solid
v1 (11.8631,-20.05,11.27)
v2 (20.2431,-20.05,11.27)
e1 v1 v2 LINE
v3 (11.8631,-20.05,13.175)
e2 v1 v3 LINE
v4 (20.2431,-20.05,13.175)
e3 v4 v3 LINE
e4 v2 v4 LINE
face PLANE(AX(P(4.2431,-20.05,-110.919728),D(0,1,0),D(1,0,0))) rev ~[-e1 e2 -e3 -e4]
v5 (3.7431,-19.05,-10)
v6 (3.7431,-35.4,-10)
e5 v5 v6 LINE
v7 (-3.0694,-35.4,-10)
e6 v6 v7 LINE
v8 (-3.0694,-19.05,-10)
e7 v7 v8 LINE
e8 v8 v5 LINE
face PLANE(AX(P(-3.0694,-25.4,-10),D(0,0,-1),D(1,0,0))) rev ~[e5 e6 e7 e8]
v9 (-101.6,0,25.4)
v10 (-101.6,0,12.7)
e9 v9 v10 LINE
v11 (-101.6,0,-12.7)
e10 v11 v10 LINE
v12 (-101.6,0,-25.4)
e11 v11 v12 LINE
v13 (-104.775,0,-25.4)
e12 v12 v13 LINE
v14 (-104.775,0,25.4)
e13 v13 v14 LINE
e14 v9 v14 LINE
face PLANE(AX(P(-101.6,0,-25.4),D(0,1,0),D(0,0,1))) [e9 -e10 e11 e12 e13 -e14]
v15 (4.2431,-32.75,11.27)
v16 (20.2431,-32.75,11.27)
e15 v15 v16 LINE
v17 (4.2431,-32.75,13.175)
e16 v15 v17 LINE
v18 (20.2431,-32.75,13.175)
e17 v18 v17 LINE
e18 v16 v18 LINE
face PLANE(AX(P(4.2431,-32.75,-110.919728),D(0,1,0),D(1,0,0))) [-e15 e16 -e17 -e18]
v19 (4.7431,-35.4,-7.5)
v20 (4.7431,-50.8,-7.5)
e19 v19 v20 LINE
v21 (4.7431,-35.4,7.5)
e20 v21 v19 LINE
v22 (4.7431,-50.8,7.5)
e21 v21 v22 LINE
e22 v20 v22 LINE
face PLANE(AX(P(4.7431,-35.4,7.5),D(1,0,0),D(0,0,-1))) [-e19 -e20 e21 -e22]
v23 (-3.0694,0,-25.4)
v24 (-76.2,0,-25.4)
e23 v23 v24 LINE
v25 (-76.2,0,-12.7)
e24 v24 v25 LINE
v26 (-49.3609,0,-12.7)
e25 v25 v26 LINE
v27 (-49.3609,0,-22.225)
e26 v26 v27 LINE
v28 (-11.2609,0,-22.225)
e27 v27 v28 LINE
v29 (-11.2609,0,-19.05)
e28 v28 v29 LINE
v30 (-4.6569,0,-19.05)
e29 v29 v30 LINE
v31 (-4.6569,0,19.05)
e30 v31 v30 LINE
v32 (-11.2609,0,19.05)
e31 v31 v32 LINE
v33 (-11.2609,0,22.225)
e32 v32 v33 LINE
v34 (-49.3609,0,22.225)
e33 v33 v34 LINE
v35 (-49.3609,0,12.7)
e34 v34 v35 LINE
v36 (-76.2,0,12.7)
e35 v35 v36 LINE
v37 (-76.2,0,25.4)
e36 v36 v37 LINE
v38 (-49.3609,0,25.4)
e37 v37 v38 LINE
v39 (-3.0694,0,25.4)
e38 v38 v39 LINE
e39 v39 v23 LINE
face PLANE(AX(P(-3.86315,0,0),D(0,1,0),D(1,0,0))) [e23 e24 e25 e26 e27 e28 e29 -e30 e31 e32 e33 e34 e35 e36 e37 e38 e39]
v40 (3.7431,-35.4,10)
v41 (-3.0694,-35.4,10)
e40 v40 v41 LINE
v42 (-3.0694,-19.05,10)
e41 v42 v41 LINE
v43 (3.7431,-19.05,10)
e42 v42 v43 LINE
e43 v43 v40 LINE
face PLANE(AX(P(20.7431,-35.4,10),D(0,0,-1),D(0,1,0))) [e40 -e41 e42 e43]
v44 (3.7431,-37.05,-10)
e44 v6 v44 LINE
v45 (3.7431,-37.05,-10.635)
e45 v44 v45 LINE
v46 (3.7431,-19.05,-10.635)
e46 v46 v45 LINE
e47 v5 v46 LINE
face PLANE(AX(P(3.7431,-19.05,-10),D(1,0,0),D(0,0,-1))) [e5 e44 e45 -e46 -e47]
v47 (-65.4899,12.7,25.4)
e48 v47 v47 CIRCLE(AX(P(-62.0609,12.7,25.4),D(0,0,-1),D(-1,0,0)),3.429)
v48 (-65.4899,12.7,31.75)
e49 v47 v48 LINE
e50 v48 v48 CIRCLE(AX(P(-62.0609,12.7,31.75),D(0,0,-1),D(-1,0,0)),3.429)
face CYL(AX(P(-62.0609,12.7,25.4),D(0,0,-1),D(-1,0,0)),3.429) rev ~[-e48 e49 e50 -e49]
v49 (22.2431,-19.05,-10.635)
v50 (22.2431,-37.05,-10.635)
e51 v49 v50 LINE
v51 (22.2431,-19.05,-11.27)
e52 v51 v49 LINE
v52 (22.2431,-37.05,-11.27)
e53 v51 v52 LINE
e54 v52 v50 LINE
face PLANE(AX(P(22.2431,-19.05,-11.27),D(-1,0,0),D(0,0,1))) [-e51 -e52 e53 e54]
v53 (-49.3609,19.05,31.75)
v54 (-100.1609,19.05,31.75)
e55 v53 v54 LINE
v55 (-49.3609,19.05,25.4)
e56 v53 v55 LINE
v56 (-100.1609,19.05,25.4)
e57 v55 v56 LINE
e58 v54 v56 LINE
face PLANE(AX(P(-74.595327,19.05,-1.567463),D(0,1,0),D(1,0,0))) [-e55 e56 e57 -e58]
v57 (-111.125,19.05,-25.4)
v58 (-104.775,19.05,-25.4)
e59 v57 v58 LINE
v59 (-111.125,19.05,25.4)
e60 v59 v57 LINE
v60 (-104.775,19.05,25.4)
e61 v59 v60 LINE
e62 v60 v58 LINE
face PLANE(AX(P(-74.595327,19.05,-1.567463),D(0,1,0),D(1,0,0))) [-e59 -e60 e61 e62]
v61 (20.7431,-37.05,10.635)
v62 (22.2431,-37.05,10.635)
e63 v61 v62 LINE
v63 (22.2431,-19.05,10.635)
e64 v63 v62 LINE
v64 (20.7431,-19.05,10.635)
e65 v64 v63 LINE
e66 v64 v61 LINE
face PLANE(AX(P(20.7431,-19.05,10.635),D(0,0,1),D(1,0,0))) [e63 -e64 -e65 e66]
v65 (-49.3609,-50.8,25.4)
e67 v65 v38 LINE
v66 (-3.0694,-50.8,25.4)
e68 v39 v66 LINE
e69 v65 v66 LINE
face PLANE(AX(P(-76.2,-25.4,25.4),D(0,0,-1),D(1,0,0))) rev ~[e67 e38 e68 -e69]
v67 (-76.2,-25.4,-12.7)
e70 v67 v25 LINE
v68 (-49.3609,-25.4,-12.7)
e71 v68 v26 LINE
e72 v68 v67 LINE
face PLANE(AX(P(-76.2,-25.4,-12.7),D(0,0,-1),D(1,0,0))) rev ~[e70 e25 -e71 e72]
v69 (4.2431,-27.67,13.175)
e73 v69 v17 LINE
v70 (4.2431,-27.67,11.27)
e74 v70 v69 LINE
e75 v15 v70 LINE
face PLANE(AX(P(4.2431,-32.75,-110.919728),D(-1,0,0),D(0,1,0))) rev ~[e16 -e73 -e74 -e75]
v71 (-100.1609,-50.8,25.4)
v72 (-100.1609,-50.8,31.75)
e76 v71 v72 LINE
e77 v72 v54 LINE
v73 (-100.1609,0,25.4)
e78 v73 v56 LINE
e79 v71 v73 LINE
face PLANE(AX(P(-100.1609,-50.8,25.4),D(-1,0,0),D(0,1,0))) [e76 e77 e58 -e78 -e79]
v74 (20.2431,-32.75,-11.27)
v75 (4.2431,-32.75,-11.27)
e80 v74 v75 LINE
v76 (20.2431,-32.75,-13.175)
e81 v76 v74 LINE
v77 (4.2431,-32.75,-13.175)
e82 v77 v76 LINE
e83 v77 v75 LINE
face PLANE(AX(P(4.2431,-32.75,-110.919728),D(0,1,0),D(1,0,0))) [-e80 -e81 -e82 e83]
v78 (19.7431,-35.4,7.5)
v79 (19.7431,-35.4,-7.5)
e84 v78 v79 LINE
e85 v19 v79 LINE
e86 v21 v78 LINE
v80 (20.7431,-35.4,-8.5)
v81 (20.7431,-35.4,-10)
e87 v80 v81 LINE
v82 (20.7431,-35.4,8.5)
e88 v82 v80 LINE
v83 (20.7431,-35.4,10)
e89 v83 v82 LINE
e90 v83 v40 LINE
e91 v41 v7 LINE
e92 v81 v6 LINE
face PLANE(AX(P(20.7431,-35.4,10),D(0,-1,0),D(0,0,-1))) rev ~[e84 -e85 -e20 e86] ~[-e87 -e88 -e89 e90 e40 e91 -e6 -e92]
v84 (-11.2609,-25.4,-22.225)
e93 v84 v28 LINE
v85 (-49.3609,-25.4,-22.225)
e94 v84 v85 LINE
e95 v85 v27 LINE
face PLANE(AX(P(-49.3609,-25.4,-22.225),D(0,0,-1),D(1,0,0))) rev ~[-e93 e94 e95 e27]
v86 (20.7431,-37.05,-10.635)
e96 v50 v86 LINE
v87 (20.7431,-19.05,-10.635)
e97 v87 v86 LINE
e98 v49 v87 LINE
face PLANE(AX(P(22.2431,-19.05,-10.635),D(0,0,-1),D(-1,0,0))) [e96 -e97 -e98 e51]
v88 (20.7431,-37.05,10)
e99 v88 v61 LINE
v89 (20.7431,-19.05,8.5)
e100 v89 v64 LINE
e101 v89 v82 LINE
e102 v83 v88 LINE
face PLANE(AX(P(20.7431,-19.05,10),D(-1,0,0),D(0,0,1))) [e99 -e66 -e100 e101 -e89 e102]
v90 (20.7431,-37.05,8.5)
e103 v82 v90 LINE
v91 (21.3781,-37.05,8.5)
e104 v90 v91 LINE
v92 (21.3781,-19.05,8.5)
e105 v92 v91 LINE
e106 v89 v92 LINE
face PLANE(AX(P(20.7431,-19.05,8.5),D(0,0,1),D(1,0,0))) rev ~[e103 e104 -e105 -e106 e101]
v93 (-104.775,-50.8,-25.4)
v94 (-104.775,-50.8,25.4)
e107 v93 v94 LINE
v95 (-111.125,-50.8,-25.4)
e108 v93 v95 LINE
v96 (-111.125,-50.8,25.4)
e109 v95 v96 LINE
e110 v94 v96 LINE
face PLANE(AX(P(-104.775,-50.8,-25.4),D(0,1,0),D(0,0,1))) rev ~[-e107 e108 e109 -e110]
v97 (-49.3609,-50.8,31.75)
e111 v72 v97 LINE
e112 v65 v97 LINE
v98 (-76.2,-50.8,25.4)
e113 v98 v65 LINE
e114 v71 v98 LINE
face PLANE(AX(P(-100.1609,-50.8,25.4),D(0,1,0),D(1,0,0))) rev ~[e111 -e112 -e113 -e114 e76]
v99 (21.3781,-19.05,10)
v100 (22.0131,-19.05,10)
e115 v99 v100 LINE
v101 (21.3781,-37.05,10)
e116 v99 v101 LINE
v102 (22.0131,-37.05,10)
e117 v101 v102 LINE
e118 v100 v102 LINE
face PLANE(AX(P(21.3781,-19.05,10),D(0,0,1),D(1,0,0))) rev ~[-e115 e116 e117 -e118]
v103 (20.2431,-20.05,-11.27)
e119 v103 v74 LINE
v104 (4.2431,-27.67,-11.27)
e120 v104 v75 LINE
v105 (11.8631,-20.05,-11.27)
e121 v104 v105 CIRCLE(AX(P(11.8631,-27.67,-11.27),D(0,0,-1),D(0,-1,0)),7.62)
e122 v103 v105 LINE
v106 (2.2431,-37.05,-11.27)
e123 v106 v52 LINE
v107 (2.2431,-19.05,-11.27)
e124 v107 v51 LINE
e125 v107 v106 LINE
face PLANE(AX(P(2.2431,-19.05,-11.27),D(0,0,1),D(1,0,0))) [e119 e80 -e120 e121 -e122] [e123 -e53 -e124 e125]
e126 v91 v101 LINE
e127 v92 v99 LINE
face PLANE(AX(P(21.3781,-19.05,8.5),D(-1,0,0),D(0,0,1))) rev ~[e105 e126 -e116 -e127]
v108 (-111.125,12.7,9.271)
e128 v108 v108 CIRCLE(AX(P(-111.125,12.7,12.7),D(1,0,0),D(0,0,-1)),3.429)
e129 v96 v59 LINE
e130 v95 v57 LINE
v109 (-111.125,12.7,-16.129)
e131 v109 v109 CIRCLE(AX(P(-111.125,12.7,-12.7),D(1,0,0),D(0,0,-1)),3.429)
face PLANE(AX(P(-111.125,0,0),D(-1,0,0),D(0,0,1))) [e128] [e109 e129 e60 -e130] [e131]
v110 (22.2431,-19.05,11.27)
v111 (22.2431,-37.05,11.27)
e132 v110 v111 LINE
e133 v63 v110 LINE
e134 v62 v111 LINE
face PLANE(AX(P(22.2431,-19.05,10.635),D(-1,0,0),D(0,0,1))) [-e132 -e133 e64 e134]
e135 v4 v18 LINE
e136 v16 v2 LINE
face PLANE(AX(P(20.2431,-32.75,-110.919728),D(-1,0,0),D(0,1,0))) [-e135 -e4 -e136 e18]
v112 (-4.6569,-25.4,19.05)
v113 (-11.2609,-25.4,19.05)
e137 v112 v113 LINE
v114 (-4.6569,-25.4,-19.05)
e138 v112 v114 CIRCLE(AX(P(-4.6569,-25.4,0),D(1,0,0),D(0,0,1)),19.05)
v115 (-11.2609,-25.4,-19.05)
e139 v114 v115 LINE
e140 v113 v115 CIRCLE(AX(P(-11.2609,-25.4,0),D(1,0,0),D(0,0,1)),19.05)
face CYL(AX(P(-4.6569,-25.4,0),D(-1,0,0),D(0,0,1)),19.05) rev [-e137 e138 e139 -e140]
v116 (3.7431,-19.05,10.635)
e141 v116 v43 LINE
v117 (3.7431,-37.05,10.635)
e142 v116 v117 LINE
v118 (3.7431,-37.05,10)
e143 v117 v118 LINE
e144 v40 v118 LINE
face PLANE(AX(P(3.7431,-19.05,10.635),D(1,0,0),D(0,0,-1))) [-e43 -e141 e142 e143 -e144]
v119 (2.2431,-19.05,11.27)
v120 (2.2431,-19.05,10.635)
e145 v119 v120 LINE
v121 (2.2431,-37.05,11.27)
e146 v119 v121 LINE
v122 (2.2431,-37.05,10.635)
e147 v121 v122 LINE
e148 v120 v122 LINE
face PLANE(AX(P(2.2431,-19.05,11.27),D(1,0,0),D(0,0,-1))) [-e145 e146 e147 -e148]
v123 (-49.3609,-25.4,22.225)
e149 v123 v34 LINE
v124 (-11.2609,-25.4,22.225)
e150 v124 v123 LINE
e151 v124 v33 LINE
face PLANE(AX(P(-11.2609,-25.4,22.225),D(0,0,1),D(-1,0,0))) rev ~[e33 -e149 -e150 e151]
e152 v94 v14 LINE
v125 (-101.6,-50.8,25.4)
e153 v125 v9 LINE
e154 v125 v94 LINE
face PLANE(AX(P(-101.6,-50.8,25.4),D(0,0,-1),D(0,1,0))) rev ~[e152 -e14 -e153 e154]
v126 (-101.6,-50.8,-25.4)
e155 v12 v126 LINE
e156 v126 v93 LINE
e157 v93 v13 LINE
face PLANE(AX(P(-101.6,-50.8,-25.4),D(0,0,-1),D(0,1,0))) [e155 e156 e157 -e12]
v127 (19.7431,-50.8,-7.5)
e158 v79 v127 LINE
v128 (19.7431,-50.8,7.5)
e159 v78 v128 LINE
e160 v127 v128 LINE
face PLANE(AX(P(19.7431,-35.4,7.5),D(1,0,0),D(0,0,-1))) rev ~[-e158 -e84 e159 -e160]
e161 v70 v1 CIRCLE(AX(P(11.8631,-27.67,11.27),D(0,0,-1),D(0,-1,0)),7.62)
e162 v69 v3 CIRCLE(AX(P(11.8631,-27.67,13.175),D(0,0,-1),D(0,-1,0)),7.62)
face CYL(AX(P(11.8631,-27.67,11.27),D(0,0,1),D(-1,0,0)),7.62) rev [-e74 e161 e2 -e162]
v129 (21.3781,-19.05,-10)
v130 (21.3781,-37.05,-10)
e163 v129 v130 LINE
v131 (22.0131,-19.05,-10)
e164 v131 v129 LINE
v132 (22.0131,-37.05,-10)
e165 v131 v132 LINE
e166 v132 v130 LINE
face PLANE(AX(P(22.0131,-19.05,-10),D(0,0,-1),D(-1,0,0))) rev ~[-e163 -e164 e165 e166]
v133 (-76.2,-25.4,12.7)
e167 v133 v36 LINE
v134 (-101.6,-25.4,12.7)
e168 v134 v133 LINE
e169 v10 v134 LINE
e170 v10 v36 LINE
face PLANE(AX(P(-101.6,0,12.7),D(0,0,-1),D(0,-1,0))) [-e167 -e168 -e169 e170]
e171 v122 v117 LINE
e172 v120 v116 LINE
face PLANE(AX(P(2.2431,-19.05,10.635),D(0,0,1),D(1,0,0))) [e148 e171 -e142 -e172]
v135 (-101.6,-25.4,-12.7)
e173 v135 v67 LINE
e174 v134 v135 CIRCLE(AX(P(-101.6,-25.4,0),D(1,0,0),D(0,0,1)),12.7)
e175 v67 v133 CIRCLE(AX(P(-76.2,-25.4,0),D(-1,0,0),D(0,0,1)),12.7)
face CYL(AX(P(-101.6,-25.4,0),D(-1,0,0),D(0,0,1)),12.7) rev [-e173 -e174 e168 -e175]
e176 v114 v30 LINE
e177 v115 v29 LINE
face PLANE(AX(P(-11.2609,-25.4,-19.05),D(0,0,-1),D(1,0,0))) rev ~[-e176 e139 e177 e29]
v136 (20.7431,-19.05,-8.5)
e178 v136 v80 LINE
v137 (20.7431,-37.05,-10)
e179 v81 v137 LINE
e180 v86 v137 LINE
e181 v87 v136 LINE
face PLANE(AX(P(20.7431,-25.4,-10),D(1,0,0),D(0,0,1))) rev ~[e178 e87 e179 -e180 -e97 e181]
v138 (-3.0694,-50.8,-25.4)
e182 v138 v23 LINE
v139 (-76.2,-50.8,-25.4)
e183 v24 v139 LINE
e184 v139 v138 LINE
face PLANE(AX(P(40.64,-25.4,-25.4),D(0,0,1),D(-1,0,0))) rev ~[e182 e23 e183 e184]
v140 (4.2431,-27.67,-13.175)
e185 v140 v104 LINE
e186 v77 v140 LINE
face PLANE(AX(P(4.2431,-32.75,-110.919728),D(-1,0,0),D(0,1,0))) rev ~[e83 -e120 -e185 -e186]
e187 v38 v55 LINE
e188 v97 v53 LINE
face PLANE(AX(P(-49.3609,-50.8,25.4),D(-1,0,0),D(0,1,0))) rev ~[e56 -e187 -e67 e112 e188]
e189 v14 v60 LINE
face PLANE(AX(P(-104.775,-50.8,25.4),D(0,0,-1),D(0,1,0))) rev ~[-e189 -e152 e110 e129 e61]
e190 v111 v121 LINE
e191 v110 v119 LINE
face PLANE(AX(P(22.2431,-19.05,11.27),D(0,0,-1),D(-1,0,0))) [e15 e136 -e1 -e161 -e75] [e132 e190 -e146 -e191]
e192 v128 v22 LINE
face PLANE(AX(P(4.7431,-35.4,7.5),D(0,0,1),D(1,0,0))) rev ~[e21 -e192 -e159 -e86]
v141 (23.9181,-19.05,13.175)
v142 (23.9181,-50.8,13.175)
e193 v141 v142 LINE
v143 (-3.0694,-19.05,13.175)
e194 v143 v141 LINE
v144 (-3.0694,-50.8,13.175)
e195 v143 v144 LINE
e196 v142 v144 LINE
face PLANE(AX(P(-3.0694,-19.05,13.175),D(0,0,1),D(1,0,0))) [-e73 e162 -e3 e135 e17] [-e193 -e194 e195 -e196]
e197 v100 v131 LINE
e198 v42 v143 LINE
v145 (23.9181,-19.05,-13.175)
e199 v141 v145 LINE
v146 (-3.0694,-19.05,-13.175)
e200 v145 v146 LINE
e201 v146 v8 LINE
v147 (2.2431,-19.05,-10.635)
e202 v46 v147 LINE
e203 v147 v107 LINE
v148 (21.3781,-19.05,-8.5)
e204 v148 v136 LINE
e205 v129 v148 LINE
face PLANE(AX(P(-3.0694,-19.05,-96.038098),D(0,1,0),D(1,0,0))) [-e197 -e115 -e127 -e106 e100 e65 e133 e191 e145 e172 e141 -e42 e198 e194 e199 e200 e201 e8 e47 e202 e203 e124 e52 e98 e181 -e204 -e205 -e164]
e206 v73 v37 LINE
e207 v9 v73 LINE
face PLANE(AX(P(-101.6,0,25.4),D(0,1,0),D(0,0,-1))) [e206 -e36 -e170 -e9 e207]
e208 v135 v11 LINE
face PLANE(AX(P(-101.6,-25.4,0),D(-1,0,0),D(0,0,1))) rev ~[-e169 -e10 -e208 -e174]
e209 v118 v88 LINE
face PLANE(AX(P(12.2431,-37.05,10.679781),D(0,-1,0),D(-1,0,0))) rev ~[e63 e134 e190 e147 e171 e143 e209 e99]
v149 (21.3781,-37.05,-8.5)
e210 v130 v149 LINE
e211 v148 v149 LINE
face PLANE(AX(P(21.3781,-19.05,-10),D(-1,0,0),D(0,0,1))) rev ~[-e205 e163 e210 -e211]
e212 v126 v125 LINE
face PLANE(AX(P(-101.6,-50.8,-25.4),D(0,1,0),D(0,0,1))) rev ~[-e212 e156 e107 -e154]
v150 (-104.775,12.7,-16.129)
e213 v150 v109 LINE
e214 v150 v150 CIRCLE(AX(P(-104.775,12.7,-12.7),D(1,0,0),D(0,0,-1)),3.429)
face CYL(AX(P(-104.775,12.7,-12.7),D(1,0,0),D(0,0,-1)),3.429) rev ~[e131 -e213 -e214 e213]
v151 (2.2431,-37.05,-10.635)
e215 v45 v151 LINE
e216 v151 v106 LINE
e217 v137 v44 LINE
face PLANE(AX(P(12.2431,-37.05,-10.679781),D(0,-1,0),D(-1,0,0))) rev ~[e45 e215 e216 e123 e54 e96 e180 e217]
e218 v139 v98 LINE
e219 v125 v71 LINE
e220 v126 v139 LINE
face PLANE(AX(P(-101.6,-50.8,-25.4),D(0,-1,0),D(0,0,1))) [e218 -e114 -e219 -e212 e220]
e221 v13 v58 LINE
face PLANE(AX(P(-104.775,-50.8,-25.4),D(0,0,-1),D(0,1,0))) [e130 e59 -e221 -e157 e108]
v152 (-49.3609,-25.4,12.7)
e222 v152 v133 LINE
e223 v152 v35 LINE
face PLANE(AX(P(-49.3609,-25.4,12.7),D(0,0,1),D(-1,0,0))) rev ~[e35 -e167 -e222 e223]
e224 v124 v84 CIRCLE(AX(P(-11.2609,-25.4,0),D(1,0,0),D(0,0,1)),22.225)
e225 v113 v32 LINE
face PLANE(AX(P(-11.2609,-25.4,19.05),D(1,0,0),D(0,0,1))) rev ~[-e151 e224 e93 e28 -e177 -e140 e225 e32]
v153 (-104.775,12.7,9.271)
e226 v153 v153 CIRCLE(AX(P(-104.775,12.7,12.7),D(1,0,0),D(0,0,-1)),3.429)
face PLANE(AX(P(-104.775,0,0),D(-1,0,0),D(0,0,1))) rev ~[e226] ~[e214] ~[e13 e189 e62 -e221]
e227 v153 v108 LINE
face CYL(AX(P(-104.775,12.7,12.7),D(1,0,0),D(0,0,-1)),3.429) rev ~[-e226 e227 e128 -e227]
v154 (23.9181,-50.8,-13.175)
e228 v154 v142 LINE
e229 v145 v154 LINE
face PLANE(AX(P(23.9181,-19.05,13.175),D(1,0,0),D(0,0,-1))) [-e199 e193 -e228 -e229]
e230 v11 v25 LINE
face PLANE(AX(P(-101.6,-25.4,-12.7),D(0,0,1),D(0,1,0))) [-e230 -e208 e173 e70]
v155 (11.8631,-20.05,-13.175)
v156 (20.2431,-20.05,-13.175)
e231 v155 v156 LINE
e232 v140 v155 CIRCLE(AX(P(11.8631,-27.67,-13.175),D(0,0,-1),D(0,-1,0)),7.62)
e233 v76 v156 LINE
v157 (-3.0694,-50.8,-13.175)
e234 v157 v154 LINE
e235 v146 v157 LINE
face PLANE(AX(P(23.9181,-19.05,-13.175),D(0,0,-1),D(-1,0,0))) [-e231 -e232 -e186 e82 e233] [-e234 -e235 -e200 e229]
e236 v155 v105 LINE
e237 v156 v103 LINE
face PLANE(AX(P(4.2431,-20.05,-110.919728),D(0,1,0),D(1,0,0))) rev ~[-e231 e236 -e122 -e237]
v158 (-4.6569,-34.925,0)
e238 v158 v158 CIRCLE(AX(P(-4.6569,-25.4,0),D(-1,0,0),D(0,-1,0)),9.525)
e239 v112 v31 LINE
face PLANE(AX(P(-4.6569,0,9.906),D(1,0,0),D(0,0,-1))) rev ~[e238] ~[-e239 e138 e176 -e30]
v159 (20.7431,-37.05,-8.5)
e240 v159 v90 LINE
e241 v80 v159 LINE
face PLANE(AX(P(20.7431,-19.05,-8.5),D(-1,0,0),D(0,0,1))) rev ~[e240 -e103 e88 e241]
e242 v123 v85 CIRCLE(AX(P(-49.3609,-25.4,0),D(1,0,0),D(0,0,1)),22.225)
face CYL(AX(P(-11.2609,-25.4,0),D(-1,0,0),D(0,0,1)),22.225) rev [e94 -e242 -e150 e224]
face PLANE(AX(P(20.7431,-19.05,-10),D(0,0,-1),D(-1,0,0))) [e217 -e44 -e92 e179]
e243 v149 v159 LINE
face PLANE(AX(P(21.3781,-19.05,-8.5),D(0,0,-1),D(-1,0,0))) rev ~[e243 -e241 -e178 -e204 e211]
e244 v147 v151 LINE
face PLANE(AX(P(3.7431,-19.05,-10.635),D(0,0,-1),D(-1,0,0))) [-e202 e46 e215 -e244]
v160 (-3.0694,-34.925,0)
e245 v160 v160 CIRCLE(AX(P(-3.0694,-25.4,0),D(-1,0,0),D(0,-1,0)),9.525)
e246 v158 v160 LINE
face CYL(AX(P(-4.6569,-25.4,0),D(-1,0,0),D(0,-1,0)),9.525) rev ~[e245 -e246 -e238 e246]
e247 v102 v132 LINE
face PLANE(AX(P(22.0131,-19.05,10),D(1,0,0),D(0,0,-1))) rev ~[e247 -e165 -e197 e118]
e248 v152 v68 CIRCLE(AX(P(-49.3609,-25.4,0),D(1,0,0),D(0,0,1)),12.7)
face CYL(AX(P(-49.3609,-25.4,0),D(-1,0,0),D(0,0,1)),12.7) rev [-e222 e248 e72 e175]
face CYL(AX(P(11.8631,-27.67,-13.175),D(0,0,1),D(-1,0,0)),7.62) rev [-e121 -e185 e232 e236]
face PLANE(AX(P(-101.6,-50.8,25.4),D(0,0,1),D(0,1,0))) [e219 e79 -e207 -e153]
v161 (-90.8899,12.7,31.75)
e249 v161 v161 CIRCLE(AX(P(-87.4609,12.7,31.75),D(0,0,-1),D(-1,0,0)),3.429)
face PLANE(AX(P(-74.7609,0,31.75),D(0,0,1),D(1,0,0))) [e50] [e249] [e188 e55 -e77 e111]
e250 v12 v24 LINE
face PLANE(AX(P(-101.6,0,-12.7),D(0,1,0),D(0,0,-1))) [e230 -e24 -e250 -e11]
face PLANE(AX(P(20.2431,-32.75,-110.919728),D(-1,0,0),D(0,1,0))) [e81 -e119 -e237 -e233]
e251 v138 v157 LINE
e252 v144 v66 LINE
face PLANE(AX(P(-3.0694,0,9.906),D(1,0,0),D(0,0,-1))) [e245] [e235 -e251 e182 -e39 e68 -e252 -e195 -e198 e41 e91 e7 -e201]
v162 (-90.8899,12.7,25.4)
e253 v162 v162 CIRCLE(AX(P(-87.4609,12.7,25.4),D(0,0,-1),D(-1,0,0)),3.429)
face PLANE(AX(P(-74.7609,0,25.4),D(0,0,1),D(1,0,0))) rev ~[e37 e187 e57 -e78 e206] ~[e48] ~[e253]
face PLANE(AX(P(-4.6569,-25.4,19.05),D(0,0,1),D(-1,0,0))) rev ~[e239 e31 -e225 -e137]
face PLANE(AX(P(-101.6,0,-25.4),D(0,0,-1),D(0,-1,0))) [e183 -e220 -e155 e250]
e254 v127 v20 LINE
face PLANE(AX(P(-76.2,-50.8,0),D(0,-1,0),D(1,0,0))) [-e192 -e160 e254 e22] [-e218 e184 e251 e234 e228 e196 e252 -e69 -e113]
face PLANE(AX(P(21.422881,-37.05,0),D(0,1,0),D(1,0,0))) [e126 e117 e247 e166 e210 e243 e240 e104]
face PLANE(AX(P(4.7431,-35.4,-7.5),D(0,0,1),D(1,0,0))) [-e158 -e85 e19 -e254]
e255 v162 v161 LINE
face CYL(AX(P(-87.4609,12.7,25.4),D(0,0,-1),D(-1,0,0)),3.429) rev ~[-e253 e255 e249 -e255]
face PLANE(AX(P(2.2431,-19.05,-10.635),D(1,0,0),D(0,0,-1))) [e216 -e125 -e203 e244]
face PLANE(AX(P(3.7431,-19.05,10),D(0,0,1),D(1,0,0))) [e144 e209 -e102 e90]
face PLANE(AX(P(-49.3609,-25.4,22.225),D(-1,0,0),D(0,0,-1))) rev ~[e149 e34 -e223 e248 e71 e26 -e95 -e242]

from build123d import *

# Parameters (mm, degrees)
SKETCH1_W                = 116.84
SKETCH1_H                = 50.8
BOSS_EXTRUDE1_DEPTH      = 25.4
SKETCH38_W               = 20
SKETCH38_H               = 20
CUT_EXTRUDE33_DEPTH      = 23.8125
SKETCH37_W               = 50.8
SKETCH37_H               = 25.4
CUT_EXTRUDE32_DEPTH      = 130.912992422
BOSS_EXTRUDE5_DEPTH      = 25.4
CUT_EXTRUDE54_DEPTH      = 96.038097624
CUT_EXTRUDE54_DEPTH_BACK = 96.038097624
SKETCH45_W               = 43.7094
SKETCH45_H               = 19.05
SKETCH53_R               = 2
CUT_EXTRUDE46_DEPTH      = 0.0254
CUT_EXTRUDE55_DEPTH      = 87.36933773
SKETCH61_R               = 9.906
SKETCH61_R_2             = 9.525
BOSS_EXTRUDE11_DEPTH     = 1.5875
BOSS_EXTRUDE17_REACH     = 97.038
SKETCH70_W               = 1.5875
SKETCH70_H               = 19.812
CUT_EXTRUDE56_DEPTH      = 18
SKETCH76_W               = 15
SKETCH76_H               = 15
CUT_EXTRUDE58_DEPTH      = 88.776762301
CUT_EXTRUDE59_DEPTH      = 99.649728332
CUT_EXTRUDE59_DEPTH_BACK = 99.649728332
SKETCH77_W               = 16
SKETCH77_H               = 12.7
BOSS_EXTRUDE18_START     = 25.4
BOSS_EXTRUDE18_DEPTH     = 25.4
SKETCH79_W               = 50.8
SKETCH79_H               = 50.8
BOSS_EXTRUDE19_DEPTH     = 3.175
SKETCH80_W               = 50.8
SKETCH80_H               = 101.6
BOSS_EXTRUDE20_DEPTH     = 6.35
SKETCH81_R               = 3.429
CUT_EXTRUDE60_DEPTH      = 141.668809576
SKETCH82_W               = 50.8
SKETCH82_H               = 101.6
BOSS_EXTRUDE21_DEPTH     = 6.35
SKETCH83_R               = 3.429
CUT_EXTRUDE61_DEPTH      = 133.325529
SKETCH84_W               = 110.249820412
SKETCH84_H               = 109.628139174
CUT_EXTRUDE62_DEPTH      = 31.75
FILLET1_R                = 7.62


with BuildPart() as part:
    # Sketch1 → Boss-Extrude1 (new, symmetric)
    with BuildSketch(Plane.XY):
        with Locations((-17.78, -25.4)):
            Rectangle(SKETCH1_W, SKETCH1_H)
    extrude(amount=BOSS_EXTRUDE1_DEPTH, both=True)

    # Sketch2 → Cut-Revolve1 (revolve, cut)
    with BuildSketch(Plane.XY, mode=Mode.PRIVATE) as cut_revolve1_sk:
        Polygon((-49.3609, -3.175), (-49.3609, -12.7), (-220.202391615, -12.7), (-220.202391615, -25.4), (-157.809194346, -25.4), (-128.417210056, -25.4), (19.629439755, -25.4), (20.7431, -25.4), (20.7431, -15.494), (-4.6569, -15.494), (-4.6569, -6.35), (-11.2609, -6.35), (-11.2609, -3.175), align=None)
    revolve(cut_revolve1_sk.sketch.rotate(Axis((-152.482877195, -25.4, 0), (1, 0, 0)), 90), axis=Axis((-152.482877195, -25.4, 0), (1, 0, 0)), mode=Mode.SUBTRACT)

    # Sketch38 → Cut-Extrude33 (cut)
    with BuildSketch(Plane(origin=(20.7431, 0, 0), x_dir=(0, 0, -1), z_dir=(1, 0, 0))):
        with Locations((0, -25.4)):
            Rectangle(SKETCH38_W, SKETCH38_H)
    extrude(amount=-CUT_EXTRUDE33_DEPTH, mode=Mode.SUBTRACT)

    # Sketch37 → Cut-Extrude32 (cut, through all)
    with BuildSketch(Plane(origin=(40.64, 0, 0), x_dir=(0, 0, -1), z_dir=(1, 0, 0))):
        with Locations((0, -12.7)):
            Rectangle(SKETCH37_W, SKETCH37_H)
    extrude(amount=-CUT_EXTRUDE32_DEPTH, mode=Mode.SUBTRACT)

    # Sketch39 → Boss-Extrude5 (add)
    with BuildSketch(Plane(origin=(0, -25.4, 0), x_dir=(1, 0, 0), z_dir=(0, 1, 0))):
        Polygon((-3.0694, 9.906), (-3.0694, 10), (20.7431, 10), (20.7431, -10), (-3.0694, -10), (-3.0694, -9.906), (-4.6569, -9.906), (-4.6569, -19.05), (-11.2609, -19.05), (-11.2609, -22.225), (-49.3609, -22.225), (-49.3609, -12.7), (-76.2, -12.7), (-76.2, -25.4), (40.64, -25.4), (40.64, 25.4), (-76.2, 25.4), (-76.2, 12.7), (-49.3609, 12.7), (-49.3609, 22.225), (-11.2609, 22.225), (-11.2609, 19.05), (-4.6569, 19.05), (-4.6569, 9.906), align=None)
    extrude(amount=BOSS_EXTRUDE5_DEPTH)

    # Sketch45 → Cut-Extrude54 (cut, two sides: drawn at the far end of the back side and taken through both)
    with BuildSketch(Plane.XY.offset(-CUT_EXTRUDE54_DEPTH_BACK)):
        with Locations((18.7853, -9.525)):
            Rectangle(SKETCH45_W, SKETCH45_H)
    extrude(amount=CUT_EXTRUDE54_DEPTH + CUT_EXTRUDE54_DEPTH_BACK, mode=Mode.SUBTRACT)

    # Sketch53 → Cut-Extrude46 (cut)
    with BuildSketch(Plane.ZY.offset(-20.7431)):
        with Locations((0, -25.4)):
            Circle(SKETCH53_R)
    extrude(amount=-CUT_EXTRUDE46_DEPTH, mode=Mode.SUBTRACT)

    # Sketch72 → Cut-Extrude55 (cut, through all)
    with BuildSketch(Plane(origin=(0, -19.05, 0), x_dir=(1, 0, 0), z_dir=(0, 1, 0))):
        Polygon((-3.0694, -25.4), (-3.0694, -13.175), (23.9181, -13.175), (23.9181, 13.175), (-3.0694, 13.175), (-3.0694, 25.4), (40.64, 25.4), (40.64, -25.4), align=None)
    extrude(amount=-CUT_EXTRUDE55_DEPTH, mode=Mode.SUBTRACT)

    # Sketch61 → Boss-Extrude11 (add)
    with BuildSketch(Plane.ZY.offset(4.6569)):
        with Locations((0, -25.4)):
            Circle(SKETCH61_R)
        with Locations(Location((0, -25.4, 0), (0, 0, 270))):
            Circle(SKETCH61_R_2, mode=Mode.SUBTRACT)
    extrude(amount=-BOSS_EXTRUDE11_DEPTH)

    # Sketch70 → Boss-Extrude17 (add, up to next)
    with BuildSketch(Plane(origin=(0, 0, 0), x_dir=(1, 0, 0), z_dir=(0, 1, 0)), mode=Mode.PRIVATE) as boss_extrude17_sk1:
        with Locations((-3.86315, 0)):
            Rectangle(SKETCH70_W, SKETCH70_H)
    boss_extrude17_tool1 = extrude(boss_extrude17_sk1.sketch, amount=-BOSS_EXTRUDE17_REACH, mode=Mode.PRIVATE) - part.part
    add(boss_extrude17_tool1.solids().sort_by_distance((-3.86315, 0, 0))[0])

    # Sketch73 → Cut-Extrude56 (cut)
    with BuildSketch(Plane(origin=(0, -19.05, 0), x_dir=(1, 0, 0), z_dir=(0, 1, 0))):
        Polygon((20.7431, -8.5), (21.3781, -8.5), (21.3781, -10), (22.0131, -10), (22.0131, 10), (21.3781, 10), (21.3781, 8.5), (20.7431, 8.5), align=None)
        Polygon((2.2431, 11.27), (22.2431, 11.27), (22.2431, 10.635), (20.7431, 10.635), (20.7431, 10), (3.7431, 10), (3.7431, 10.635), (2.2431, 10.635), align=None)
        Polygon((20.7431, -10.635), (22.2431, -10.635), (22.2431, -11.27), (2.2431, -11.27), (2.2431, -10.635), (3.7431, -10.635), (3.7431, -10), (20.7431, -10), align=None)
    extrude(amount=-CUT_EXTRUDE56_DEPTH, mode=Mode.SUBTRACT)

    # Sketch76 → Cut-Extrude58 (cut, through all)
    with BuildSketch(Plane(origin=(0, -35.4, 0), x_dir=(1, 0, 0), z_dir=(0, 1, 0))):
        with Locations((12.2431, 0)):
            Rectangle(SKETCH76_W, SKETCH76_H)
    extrude(amount=-CUT_EXTRUDE58_DEPTH, mode=Mode.SUBTRACT)

    # Sketch77 → Cut-Extrude59 (cut, two sides: drawn at the far end of the back side and taken through both)
    with BuildSketch(Plane.XY.offset(-11.27).offset(-CUT_EXTRUDE59_DEPTH_BACK)):
        with Locations((12.2431, -26.4)):
            Rectangle(SKETCH77_W, SKETCH77_H)
    extrude(amount=CUT_EXTRUDE59_DEPTH + CUT_EXTRUDE59_DEPTH_BACK, mode=Mode.SUBTRACT)

    # Sketch78 → Boss-Extrude18 (add)
    with BuildSketch(Plane.ZY.offset(76.2).offset(BOSS_EXTRUDE18_START)):
        with BuildLine():
            Line((25.4, -50.8), (25.4, 0))
            Line((25.4, 0), (12.7, 0))
            Line((12.7, 0), (12.7, -25.4))
            ThreePointArc((12.7, -25.4), (0, -38.1), (-12.7, -25.4))
            Line((-12.7, -25.4), (-12.7, 0))
            Line((-12.7, 0), (-25.4, 0))
            Line((-25.4, 0), (-25.4, -50.8))
            Line((-25.4, -50.8), (25.4, -50.8))
        make_face()
    extrude(amount=-BOSS_EXTRUDE18_DEPTH)

    # Sketch79 → Boss-Extrude19 (add)
    with BuildSketch(Plane.ZY.offset(101.6)):
        with Locations((0, -25.4)):
            Rectangle(SKETCH79_W, SKETCH79_H)
    extrude(amount=BOSS_EXTRUDE19_DEPTH)

    # Sketch80 → Boss-Extrude20 (add)
    with BuildSketch(Plane.ZY.offset(104.775)):
        Rectangle(SKETCH80_W, SKETCH80_H)
    extrude(amount=BOSS_EXTRUDE20_DEPTH)

    # Sketch81 → Cut-Extrude60 (cut, through all)
    with BuildSketch(Plane(origin=(-104.775, 0, 0), x_dir=(0, 0, -1), z_dir=(1, 0, 0))):
        with Locations((-12.7, 38.1)):
            Circle(SKETCH81_R)
        with Locations((12.7, 38.1)):
            Circle(SKETCH81_R)
        with Locations((12.7, 12.7)):
            Circle(SKETCH81_R)
        with Locations((-12.7, 12.7)):
            Circle(SKETCH81_R)
    extrude(amount=-CUT_EXTRUDE60_DEPTH, mode=Mode.SUBTRACT)

    # Sketch82 → Boss-Extrude21 (add)
    with BuildSketch(Plane.XY.offset(25.4)):
        with Locations((-74.7609, 0)):
            Rectangle(SKETCH82_W, SKETCH82_H)
    extrude(amount=BOSS_EXTRUDE21_DEPTH)

    # Sketch83 → Cut-Extrude61 (cut, through all)
    with BuildSketch(Plane(origin=(0, 0, 25.4), x_dir=(-1, 0, 0), z_dir=(0, 0, -1))):
        with Locations((62.0609, 38.1)):
            Circle(SKETCH83_R)
        with Locations((87.4609, 38.1)):
            Circle(SKETCH83_R)
        with Locations((87.4609, 12.7)):
            Circle(SKETCH83_R)
        with Locations((62.0609, 12.7)):
            Circle(SKETCH83_R)
    extrude(amount=-CUT_EXTRUDE61_DEPTH, mode=Mode.SUBTRACT)

    # Sketch84 → Cut-Extrude62 (cut)
    with BuildSketch(Plane(origin=(0, 50.8, 0), x_dir=(1, 0, 0), z_dir=(0, 1, 0))):
        with Locations((-74.595326767, 1.567462675)):
            Rectangle(SKETCH84_W, SKETCH84_H)
    extrude(amount=-CUT_EXTRUDE62_DEPTH, mode=Mode.SUBTRACT)

    # Fillet1
    fillet1_edges = [part.edges().sort_by_distance(p)[0] for p in [
        (4.2431, -20.05, 12.2225),
        (4.2431, -20.05, -12.2225),
    ]]
    fillet(fillet1_edges, radius=FILLET1_R)


solid = part.part
